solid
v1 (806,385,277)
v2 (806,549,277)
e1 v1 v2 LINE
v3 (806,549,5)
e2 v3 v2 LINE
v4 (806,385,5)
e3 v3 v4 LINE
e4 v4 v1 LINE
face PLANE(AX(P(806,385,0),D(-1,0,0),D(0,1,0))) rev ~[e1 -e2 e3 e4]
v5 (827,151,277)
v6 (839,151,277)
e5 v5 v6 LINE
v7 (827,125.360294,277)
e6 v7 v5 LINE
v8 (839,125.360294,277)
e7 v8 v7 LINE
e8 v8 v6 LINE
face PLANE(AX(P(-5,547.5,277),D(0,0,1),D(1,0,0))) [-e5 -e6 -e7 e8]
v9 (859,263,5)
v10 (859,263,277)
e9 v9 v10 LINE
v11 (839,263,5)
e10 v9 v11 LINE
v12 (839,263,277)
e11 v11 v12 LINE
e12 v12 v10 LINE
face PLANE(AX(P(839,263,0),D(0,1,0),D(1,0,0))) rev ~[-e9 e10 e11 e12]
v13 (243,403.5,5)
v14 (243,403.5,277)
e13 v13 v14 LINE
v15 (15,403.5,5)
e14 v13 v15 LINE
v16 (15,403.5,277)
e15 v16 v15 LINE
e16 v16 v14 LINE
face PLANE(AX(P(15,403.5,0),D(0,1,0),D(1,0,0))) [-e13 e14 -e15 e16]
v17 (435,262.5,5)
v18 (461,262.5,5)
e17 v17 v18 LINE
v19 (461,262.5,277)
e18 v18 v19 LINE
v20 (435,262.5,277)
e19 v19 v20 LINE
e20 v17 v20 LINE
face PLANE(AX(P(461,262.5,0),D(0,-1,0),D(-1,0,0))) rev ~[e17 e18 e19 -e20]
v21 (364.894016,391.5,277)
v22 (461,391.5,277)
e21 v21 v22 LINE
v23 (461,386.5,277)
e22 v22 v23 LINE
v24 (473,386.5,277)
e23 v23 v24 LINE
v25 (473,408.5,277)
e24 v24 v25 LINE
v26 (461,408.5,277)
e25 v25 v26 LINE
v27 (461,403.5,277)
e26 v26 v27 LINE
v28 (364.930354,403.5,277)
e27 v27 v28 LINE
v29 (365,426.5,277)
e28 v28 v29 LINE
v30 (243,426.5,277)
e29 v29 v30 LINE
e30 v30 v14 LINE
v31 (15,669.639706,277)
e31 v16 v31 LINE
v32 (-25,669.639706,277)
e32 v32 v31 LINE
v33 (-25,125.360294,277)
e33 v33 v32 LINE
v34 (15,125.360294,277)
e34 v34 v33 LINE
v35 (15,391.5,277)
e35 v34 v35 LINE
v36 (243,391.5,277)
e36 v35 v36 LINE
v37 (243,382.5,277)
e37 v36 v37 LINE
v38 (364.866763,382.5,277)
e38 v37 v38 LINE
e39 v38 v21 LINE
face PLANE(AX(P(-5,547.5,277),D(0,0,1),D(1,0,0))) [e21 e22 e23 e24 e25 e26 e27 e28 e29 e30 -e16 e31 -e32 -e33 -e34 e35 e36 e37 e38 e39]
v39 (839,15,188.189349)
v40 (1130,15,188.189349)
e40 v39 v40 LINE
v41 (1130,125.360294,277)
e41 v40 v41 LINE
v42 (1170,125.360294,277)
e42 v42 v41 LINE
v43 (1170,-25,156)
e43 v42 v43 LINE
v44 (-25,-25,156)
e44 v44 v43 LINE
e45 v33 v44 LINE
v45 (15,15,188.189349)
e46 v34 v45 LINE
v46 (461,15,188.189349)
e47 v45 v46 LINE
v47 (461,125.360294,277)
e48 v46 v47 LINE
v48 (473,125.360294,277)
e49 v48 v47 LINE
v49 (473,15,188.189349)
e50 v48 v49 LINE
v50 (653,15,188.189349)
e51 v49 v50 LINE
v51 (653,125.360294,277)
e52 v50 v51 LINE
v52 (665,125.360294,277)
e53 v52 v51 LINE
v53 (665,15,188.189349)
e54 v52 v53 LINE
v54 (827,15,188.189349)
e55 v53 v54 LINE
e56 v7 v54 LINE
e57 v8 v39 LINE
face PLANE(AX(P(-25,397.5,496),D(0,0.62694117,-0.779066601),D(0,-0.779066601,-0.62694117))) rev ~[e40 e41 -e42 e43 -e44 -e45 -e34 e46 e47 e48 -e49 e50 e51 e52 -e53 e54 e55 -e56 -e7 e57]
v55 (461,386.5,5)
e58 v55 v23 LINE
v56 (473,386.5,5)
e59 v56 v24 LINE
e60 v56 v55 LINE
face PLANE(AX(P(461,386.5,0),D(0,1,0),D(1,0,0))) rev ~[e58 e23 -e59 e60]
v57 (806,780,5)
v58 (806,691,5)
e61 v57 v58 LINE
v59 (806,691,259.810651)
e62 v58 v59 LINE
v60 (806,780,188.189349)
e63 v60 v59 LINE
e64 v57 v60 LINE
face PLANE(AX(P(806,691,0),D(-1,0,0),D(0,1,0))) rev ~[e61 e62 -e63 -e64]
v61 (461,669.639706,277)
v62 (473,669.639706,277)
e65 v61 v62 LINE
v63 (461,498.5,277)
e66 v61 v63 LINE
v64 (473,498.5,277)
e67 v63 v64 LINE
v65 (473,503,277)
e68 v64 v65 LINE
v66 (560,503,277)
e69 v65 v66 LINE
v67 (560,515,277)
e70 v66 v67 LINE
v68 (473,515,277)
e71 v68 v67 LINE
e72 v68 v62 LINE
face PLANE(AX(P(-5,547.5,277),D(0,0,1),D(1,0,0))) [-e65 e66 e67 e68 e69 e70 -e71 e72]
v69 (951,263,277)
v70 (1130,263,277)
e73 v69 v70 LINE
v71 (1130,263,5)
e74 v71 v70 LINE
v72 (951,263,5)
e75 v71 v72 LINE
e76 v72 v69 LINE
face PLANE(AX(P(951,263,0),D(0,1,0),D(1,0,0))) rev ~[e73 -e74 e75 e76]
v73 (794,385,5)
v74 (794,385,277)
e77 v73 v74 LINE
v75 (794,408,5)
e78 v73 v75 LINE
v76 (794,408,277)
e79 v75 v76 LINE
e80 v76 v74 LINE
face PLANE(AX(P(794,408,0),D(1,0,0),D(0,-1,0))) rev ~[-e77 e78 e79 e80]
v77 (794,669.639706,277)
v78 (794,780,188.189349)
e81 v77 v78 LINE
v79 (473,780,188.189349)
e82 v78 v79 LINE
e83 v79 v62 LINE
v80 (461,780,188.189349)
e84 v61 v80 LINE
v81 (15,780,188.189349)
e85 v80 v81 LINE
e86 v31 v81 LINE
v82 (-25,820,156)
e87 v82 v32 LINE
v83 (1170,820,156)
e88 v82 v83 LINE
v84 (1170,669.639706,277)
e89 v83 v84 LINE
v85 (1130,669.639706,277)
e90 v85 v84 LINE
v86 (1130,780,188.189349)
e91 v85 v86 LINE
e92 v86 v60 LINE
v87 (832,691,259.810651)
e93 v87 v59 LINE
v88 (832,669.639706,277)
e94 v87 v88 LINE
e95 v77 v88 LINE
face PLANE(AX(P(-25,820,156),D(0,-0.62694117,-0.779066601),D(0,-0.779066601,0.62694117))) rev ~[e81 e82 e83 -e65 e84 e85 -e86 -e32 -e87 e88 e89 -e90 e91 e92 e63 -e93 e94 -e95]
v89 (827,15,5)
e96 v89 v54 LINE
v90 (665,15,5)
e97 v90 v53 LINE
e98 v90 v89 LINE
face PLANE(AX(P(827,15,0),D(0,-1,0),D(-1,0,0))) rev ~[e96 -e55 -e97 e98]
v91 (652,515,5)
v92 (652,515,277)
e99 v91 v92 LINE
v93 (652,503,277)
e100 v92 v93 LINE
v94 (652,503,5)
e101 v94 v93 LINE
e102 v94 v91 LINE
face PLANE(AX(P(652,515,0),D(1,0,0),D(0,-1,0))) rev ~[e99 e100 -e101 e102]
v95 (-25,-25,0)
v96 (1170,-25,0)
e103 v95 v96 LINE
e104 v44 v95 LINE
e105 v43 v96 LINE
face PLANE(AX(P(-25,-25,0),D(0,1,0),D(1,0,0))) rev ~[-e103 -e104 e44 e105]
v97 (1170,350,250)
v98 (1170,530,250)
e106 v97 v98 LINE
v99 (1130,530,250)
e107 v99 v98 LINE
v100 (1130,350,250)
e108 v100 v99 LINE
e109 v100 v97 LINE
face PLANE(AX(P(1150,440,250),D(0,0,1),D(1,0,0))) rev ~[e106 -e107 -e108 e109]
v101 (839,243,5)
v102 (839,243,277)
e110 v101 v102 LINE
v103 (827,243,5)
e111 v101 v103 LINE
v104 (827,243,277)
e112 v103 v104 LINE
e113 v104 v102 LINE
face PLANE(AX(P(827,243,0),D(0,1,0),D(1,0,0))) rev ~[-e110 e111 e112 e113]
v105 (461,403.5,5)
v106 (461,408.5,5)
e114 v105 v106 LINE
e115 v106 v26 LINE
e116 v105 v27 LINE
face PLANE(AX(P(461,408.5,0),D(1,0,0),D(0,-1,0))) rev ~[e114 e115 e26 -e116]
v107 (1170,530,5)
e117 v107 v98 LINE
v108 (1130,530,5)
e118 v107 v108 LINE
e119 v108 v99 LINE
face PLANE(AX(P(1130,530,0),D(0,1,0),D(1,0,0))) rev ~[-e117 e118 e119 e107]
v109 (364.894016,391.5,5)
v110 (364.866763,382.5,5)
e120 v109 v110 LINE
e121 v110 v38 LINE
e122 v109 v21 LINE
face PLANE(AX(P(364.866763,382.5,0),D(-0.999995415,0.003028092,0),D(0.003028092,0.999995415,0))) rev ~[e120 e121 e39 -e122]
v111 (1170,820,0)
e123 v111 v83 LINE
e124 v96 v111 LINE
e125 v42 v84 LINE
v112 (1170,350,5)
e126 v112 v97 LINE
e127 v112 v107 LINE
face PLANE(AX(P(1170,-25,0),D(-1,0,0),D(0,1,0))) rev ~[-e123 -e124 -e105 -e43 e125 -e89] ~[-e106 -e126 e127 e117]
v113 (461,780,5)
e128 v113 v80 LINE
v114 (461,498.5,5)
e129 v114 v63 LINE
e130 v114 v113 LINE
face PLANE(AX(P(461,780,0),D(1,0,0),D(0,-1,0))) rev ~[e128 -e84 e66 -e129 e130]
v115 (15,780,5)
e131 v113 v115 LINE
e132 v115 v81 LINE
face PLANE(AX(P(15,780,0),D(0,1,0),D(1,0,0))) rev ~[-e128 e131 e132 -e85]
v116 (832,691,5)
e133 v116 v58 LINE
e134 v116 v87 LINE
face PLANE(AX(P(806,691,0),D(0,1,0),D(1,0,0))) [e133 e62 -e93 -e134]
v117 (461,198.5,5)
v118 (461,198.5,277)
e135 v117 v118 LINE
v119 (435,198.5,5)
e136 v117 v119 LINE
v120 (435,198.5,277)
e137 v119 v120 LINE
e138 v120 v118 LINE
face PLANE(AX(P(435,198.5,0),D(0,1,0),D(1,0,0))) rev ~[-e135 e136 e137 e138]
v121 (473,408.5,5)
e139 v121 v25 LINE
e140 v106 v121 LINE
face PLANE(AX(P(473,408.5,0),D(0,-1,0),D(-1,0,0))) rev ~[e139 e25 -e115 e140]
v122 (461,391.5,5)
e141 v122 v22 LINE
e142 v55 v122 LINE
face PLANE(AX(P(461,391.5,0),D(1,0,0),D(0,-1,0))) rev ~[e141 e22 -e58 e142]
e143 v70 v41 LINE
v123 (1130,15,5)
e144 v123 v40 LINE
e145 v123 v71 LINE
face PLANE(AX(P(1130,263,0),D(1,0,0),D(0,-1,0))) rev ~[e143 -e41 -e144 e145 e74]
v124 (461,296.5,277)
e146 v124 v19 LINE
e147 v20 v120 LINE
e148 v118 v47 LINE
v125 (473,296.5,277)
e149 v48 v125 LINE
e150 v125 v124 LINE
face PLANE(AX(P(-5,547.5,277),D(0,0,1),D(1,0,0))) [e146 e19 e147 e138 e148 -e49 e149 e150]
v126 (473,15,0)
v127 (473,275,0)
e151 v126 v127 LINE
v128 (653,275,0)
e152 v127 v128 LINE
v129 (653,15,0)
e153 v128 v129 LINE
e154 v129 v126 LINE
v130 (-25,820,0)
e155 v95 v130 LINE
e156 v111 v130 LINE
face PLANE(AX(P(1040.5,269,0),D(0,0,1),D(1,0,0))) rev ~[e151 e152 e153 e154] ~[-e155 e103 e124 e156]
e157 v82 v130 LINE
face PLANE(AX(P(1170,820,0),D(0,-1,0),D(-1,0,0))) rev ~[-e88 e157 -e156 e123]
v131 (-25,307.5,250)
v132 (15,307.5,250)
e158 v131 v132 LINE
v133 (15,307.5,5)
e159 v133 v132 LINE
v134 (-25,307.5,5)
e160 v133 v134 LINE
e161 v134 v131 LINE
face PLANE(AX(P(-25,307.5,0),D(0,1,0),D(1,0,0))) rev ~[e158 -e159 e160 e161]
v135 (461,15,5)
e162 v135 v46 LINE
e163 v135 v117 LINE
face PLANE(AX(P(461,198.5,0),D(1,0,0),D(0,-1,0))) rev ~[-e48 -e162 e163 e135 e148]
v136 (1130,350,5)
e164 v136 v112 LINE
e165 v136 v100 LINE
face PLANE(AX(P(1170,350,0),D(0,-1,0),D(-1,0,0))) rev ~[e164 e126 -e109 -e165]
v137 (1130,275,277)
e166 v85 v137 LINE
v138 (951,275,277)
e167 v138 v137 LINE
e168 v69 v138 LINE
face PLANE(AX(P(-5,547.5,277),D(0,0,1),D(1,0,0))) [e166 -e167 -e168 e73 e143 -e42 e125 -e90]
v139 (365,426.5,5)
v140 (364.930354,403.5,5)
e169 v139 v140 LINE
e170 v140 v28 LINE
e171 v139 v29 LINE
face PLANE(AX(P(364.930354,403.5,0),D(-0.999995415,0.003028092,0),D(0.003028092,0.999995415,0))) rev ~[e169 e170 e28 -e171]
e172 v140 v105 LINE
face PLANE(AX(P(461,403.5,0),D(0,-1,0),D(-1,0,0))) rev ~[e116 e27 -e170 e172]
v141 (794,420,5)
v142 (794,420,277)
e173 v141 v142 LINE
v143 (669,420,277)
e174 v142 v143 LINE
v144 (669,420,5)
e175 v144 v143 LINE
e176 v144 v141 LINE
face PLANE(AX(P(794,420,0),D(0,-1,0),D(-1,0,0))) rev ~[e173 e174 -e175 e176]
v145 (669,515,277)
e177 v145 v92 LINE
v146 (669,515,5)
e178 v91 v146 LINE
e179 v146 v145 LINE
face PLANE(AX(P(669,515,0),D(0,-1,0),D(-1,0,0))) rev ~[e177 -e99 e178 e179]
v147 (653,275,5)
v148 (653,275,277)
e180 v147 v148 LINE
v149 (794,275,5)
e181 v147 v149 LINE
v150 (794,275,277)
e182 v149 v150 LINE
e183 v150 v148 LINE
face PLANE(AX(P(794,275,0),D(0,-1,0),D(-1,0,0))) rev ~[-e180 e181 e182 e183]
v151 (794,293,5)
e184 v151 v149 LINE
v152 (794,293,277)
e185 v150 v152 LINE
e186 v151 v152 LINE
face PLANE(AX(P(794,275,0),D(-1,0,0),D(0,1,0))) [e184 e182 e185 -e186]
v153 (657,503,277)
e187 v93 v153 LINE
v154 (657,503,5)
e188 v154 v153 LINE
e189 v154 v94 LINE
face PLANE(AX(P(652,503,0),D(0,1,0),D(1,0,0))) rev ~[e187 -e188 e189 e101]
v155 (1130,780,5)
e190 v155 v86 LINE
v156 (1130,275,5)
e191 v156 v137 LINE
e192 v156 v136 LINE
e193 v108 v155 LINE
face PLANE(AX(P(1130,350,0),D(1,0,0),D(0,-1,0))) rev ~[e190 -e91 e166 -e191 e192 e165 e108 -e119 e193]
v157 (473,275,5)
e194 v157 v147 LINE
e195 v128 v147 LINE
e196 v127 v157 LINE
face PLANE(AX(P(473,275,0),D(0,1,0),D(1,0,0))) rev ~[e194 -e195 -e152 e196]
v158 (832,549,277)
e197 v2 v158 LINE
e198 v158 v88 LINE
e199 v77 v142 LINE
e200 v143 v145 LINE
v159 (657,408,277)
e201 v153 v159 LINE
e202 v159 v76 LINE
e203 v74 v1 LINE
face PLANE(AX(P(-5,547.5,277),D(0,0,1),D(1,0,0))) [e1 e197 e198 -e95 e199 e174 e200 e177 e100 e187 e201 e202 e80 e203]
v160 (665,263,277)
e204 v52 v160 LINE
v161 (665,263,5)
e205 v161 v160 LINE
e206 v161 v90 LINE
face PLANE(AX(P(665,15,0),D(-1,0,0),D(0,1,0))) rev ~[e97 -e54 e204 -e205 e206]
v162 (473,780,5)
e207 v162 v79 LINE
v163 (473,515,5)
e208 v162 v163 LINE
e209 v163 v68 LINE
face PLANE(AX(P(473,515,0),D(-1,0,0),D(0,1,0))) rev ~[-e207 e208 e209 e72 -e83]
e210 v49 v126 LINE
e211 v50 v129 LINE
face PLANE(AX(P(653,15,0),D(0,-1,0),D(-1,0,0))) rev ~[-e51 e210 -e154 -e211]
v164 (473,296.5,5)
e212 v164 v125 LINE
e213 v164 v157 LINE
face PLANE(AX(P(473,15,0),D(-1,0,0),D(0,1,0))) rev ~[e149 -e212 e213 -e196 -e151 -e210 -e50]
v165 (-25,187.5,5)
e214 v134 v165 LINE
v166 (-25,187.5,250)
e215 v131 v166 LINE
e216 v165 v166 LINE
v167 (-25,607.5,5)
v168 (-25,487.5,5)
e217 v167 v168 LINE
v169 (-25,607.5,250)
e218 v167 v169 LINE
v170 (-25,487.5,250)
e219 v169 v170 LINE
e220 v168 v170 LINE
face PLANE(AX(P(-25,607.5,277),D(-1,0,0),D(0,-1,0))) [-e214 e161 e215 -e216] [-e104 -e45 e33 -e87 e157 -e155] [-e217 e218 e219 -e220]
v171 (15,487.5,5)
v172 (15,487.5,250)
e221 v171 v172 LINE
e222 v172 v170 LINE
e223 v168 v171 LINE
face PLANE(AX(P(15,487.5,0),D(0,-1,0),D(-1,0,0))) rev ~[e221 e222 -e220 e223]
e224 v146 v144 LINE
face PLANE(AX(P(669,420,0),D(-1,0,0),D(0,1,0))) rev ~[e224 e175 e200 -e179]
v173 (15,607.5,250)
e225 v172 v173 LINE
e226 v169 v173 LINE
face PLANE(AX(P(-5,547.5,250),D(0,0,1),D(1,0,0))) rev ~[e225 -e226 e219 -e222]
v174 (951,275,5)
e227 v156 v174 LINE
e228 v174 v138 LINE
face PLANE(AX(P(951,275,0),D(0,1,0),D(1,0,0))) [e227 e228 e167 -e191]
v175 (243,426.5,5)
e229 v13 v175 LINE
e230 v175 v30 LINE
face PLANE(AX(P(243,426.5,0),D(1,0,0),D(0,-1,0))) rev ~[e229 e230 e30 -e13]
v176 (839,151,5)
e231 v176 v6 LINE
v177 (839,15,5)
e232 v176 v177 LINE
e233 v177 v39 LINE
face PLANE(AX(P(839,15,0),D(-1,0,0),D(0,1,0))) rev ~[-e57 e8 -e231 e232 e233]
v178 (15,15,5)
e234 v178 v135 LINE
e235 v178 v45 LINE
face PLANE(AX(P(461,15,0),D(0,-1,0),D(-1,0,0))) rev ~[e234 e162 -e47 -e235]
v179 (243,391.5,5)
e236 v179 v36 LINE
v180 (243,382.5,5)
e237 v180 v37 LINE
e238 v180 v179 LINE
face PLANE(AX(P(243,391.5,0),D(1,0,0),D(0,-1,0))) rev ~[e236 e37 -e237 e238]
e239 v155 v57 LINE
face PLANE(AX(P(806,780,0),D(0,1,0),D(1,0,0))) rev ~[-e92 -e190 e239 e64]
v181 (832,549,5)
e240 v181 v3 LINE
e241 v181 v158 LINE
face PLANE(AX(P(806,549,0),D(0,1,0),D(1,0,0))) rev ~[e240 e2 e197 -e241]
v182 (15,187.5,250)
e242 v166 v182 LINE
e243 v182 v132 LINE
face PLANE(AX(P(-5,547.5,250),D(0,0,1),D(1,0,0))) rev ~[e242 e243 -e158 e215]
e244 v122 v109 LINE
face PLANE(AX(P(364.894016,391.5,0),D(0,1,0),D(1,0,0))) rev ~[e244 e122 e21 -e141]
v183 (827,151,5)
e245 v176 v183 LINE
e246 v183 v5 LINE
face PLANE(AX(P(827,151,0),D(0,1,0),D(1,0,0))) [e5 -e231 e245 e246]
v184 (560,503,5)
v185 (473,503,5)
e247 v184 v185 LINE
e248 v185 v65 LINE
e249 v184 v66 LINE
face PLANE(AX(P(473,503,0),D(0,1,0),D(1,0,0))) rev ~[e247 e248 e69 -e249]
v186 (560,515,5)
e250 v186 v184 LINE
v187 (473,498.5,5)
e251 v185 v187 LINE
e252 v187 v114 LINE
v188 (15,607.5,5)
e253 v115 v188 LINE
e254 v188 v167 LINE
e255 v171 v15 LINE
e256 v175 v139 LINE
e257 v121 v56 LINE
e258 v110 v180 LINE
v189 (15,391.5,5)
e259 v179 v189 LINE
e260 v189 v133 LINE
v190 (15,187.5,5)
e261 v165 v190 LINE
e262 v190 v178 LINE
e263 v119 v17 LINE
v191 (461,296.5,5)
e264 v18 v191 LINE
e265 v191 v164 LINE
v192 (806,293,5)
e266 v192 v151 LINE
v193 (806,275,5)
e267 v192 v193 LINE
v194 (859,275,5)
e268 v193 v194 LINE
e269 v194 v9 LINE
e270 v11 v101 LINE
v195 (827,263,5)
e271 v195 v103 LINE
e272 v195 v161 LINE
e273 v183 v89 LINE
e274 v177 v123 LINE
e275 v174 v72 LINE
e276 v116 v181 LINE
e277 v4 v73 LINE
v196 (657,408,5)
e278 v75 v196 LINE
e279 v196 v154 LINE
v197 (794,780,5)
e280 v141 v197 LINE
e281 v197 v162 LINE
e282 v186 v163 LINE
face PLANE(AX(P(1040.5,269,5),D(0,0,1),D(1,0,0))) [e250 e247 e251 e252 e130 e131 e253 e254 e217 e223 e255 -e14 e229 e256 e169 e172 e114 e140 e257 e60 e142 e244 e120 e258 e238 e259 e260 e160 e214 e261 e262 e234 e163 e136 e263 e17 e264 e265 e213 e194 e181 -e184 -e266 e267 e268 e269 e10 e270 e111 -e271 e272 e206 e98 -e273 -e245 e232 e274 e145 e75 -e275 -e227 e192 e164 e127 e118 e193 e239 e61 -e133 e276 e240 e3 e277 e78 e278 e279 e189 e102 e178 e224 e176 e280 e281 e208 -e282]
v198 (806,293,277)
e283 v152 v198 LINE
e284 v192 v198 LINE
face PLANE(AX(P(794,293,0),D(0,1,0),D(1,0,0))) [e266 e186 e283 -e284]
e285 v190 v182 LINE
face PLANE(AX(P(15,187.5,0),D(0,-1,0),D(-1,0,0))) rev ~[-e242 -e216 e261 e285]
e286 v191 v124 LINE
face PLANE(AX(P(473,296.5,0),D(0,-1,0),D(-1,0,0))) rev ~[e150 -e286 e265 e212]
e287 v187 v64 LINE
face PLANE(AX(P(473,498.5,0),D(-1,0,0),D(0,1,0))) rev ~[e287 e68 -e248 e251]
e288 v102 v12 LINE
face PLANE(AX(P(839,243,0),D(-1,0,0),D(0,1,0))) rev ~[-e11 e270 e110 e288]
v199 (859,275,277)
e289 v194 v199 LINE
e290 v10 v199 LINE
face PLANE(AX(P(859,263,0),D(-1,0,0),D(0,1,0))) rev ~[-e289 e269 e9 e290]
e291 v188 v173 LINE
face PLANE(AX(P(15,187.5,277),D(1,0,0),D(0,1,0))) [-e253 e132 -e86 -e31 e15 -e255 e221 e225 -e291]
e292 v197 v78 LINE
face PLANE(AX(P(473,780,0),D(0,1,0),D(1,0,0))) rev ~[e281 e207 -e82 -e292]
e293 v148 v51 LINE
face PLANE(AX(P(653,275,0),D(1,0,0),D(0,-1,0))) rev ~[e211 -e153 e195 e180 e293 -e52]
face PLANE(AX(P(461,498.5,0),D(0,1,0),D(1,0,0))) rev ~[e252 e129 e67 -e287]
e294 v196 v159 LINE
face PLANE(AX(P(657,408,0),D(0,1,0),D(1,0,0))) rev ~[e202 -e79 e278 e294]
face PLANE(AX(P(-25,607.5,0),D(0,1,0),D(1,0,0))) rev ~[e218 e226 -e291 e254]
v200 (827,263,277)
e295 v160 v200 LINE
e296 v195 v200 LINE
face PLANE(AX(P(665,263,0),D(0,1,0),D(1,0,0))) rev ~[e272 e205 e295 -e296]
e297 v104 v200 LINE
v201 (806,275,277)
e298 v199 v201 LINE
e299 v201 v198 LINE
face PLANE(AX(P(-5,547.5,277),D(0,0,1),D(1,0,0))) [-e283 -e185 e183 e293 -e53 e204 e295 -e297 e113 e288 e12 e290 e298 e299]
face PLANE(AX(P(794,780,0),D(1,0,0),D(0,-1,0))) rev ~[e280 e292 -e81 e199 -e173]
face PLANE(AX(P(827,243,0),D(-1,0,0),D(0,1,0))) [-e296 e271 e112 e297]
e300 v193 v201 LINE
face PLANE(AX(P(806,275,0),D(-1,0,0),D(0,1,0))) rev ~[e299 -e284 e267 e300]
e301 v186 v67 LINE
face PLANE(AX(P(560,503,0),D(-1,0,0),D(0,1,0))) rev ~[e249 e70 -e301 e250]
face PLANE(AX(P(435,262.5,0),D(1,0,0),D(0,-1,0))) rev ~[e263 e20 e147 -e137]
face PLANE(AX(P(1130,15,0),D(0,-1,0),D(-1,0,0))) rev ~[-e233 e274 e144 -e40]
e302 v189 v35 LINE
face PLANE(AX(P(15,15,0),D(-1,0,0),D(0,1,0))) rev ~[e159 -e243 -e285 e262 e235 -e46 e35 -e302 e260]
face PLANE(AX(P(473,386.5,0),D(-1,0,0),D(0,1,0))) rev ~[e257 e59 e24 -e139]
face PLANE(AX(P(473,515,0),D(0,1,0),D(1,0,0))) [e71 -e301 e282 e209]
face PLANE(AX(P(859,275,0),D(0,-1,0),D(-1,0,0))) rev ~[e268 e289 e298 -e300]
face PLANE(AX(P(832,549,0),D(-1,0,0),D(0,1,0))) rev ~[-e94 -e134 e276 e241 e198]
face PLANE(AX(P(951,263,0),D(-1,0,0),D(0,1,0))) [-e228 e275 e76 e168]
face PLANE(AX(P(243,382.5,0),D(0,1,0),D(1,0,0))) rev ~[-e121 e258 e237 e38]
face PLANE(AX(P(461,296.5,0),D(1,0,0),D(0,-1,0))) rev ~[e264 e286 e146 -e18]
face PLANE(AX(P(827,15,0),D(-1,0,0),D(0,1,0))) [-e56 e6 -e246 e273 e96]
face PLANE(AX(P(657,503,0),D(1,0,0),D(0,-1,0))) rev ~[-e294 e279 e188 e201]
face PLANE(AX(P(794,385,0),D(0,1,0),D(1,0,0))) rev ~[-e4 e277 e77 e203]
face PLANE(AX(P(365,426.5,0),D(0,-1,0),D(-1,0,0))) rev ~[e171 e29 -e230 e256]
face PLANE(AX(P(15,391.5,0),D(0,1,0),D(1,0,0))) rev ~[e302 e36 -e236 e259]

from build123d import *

# Parameters (mm, degrees)
F0_W     = 179
F0_H     = 12
F0_W_2   = 138
F0_H_2   = 40
F0_W_3   = 40
F0_H_3   = 120
F0_W_4   = 92
F0_W_5   = 12
F0_H_4   = 90
F0_H_5   = 180
F0_W_6   = 87
F0_H_6   = 92
F0_W_7   = 26
F0_H_7   = 142
F0_H_8   = 136
F0_W_8   = 228
F0_H_9   = 18
F0_H_10  = 20
F0_W_9   = 20
F1_DEPTH = 5
F2_DEPTH = 277
F3_W     = 40
F3_H     = 120
F3_H_2   = 180
F4_DEPTH = 27
F6_DEPTH = 1195.001


with BuildPart() as f1:
    # F0 (on Top) → F1 (new body)
    with BuildSketch(Plane.XY):
        with Locations((1040.5, 269)):
            Rectangle(F0_W, F0_H)
        Polygon((794, 408), (794, 420), (669, 420), (669, 515), (652, 515), (652, 503), (657, 503), (657, 408), align=None)
        with Locations((392, -5)):
            Rectangle(F0_W_2, F0_H_2)
        Polygon((1130, 350), (1130, 530), (1130, 780), (806, 780), (806, 691), (832, 691), (832, 549), (806, 549), (806, 385), (806, 293), (806, 275), (839, 275), (859, 275), (951, 275), (1130, 275), align=None)
        with Locations((-5, 547.5)):
            Rectangle(F0_W_3, F0_H_3)
        with Locations((-5, 247.5)):
            Rectangle(F0_W_3, F0_H_3)
        Polygon((15, 487.5), (-25, 487.5), (-25, 307.5), (15, 307.5), (15, 382.1609020233), (15, 391.5), (15, 403.5), align=None)
        Polygon((15, 187.5), (-25, 187.5), (-25, -25), (323, -25), (323, 15), (15, 15), align=None)
        Polygon((1130, 15), (1130, 263), (951, 263), (859, 263), (839, 263), (839, 243), (839, 151), (839, 15), align=None)
        with Locations((905, 269)):
            Rectangle(F0_W_4, F0_H)
        Polygon((364.8940163038, 391.5), (243, 391.5), (243, 382.5), (364.8667633533, 382.5), align=None)
        Polygon((473, 780), (461, 780), (461, 498.5), (473, 498.5), (473, 503), (473, 515), align=None)
        with Locations((467, 453.5)):
            Rectangle(F0_W_5, F0_H_4)
        Polygon((243, 426.5), (243, 403.5), (364.9303535711, 403.5), (365, 426.5), align=None)
        Polygon((473, 503), (473, 498.5), (473, 408.5), (473, 386.5), (473, 296.5), (473, 275), (653, 275), (670, 275), (794, 275), (794, 293), (794, 385), (794, 408), (657, 408), (657, 503), (652, 503), (560, 503), align=None)
        with Locations((1150, 440)):
            Rectangle(F0_W_3, F0_H_5)
        Polygon((665, 263), (665, 15), (827, 15), (827, 151), (827, 243), (827, 263), (806, 263), (794, 263), align=None)
        with Locations((516.5, 509)):
            Rectangle(F0_W_6, F0_H)
        with Locations((467, 341.5)):
            Rectangle(F0_W_5, F0_H_4)
        Polygon((15, 382.1609020233), (15, 307.5), (15, 187.5), (15, 15), (323, 15), (461, 15), (461, 198.5), (435, 198.5), (435, 262.5), (461, 262.5), (461, 296.5), (461, 386.5), (461, 391.5), (365, 391.5), (364.8940163038, 391.5), (364.8667633533, 382.5), (243, 382.5), (243, 391.5), (15, 391.5), align=None)
        Polygon((1170, 530), (1170, 820), (-25, 820), (-25, 607.5), (15, 607.5), (15, 780), (461, 780), (473, 780), (794, 780), (806, 780), (1130, 780), (1130, 530), align=None)
        with Locations((833, 197)):
            Rectangle(F0_W_5, F0_H_6)
        Polygon((461, 198.5), (461, 15), (473, 15), (473, 275), (473, 296.5), (461, 296.5), (461, 262.5), (435, 262.5), (435, 198.5), align=None)
        Polygon((794, 420), (794, 780), (473, 780), (473, 515), (560, 515), (652, 515), (669, 515), (669, 420), align=None)
        with Locations((819, 620)):
            Rectangle(F0_W_7, F0_H_7)
        with Locations((606, 509)):
            Rectangle(F0_W_4, F0_H)
        with Locations((833, 83)):
            Rectangle(F0_W_5, F0_H_8)
        Polygon((653, 275), (653, 15), (665, 15), (665, 263), (794, 263), (794, 275), (670, 275), align=None)
        Polygon((1170, -25), (1170, 350), (1130, 350), (1130, 275), (1130, 263), (1130, 15), (839, 15), (827, 15), (665, 15), (653, 15), (473, 15), (461, 15), (461, -25), align=None)
        with Locations((800, 339)):
            Rectangle(F0_W_5, F0_H_6)
        with Locations((129, 397.5)):
            Rectangle(F0_W_8, F0_H)
        with Locations((800, 284)):
            Rectangle(F0_W_5, F0_H_9)
        Polygon((806, 691), (806, 780), (794, 780), (794, 420), (794, 408), (794, 385), (806, 385), (806, 549), align=None)
        with Locations((833, 253)):
            Rectangle(F0_W_5, F0_H_10)
        Polygon((839, 263), (839, 275), (806, 275), (806, 263), (827, 263), align=None)
        with Locations((849, 269)):
            Rectangle(F0_W_9, F0_H)
        Polygon((365, 403.5), (364.9303535711, 403.5), (364.8940163038, 391.5), (365, 391.5), (461, 391.5), (461, 386.5), (473, 386.5), (473, 408.5), (461, 408.5), (461, 403.5), align=None)
        Polygon((364.9303535711, 403.5), (243, 403.5), (243, 391.5), (364.8940163038, 391.5), align=None)
        with Locations((800, 269)):
            Rectangle(F0_W_5, F0_H)
        Polygon((15, 780), (15, 607.5), (15, 487.5), (15, 403.5), (243, 403.5), (243, 426.5), (365, 426.5), (364.9303535711, 403.5), (365, 403.5), (461, 403.5), (461, 408.5), (461, 498.5), (461, 780), align=None)
    extrude(amount=F1_DEPTH)

    # F0 (on Top) → F2 (join)
    with BuildSketch(Plane.XY):
        Polygon((15, 187.5), (-25, 187.5), (-25, -25), (323, -25), (323, 15), (15, 15), align=None)
        with Locations((392, -5)):
            Rectangle(F0_W_2, F0_H_2)
        Polygon((1170, -25), (1170, 350), (1130, 350), (1130, 275), (1130, 263), (1130, 15), (839, 15), (827, 15), (665, 15), (653, 15), (473, 15), (461, 15), (461, -25), align=None)
        with Locations((833, 83)):
            Rectangle(F0_W_5, F0_H_8)
        Polygon((653, 275), (653, 15), (665, 15), (665, 263), (794, 263), (794, 275), (670, 275), align=None)
        Polygon((461, 198.5), (461, 15), (473, 15), (473, 275), (473, 296.5), (461, 296.5), (461, 262.5), (435, 262.5), (435, 198.5), align=None)
        Polygon((15, 487.5), (-25, 487.5), (-25, 307.5), (15, 307.5), (15, 382.1609020233), (15, 391.5), (15, 403.5), align=None)
        with Locations((129, 397.5)):
            Rectangle(F0_W_8, F0_H)
        Polygon((243, 426.5), (243, 403.5), (364.9303535711, 403.5), (365, 426.5), align=None)
        Polygon((364.9303535711, 403.5), (243, 403.5), (243, 391.5), (364.8940163038, 391.5), align=None)
        Polygon((364.8940163038, 391.5), (243, 391.5), (243, 382.5), (364.8667633533, 382.5), align=None)
        Polygon((365, 403.5), (364.9303535711, 403.5), (364.8940163038, 391.5), (365, 391.5), (461, 391.5), (461, 386.5), (473, 386.5), (473, 408.5), (461, 408.5), (461, 403.5), align=None)
        Polygon((473, 780), (461, 780), (461, 498.5), (473, 498.5), (473, 503), (473, 515), align=None)
        with Locations((516.5, 509)):
            Rectangle(F0_W_6, F0_H)
        Polygon((794, 408), (794, 420), (669, 420), (669, 515), (652, 515), (652, 503), (657, 503), (657, 408), align=None)
        Polygon((806, 691), (806, 780), (794, 780), (794, 420), (794, 408), (794, 385), (806, 385), (806, 549), align=None)
        with Locations((833, 253)):
            Rectangle(F0_W_5, F0_H_10)
        with Locations((849, 269)):
            Rectangle(F0_W_9, F0_H)
        Polygon((839, 263), (839, 275), (806, 275), (806, 263), (827, 263), align=None)
        with Locations((800, 269)):
            Rectangle(F0_W_5, F0_H)
        with Locations((800, 284)):
            Rectangle(F0_W_5, F0_H_9)
        with Locations((1040.5, 269)):
            Rectangle(F0_W, F0_H)
        Polygon((1170, 530), (1170, 820), (-25, 820), (-25, 607.5), (15, 607.5), (15, 780), (461, 780), (473, 780), (794, 780), (806, 780), (1130, 780), (1130, 530), align=None)
        with Locations((819, 620)):
            Rectangle(F0_W_7, F0_H_7)
    extrude(amount=F2_DEPTH)

    # F3 (on face) → F4 (join)
    with BuildSketch(Plane.XY.offset(277)):
        with Locations((-5, 547.5)):
            Rectangle(F3_W, F3_H)
        with Locations((-5, 397.5)):
            Rectangle(F3_W, F3_H_2)
        with Locations((-5, 247.5)):
            Rectangle(F3_W, F3_H)
        with Locations((1150, 440)):
            Rectangle(F3_W, F3_H_2)
    extrude(amount=-F4_DEPTH)

    # F5 (on face) → F6 (cut, through all)
    with BuildSketch(Plane(origin=(-25, 0, 0), x_dir=(0, -1, 0), z_dir=(-1, 0, 0))):
        Polygon((-669.6397058824, 277), (-397.5, 496), (-820, 496), (-820, 277), align=None)
        Polygon((-820, 156), (-669.6397058824, 277), (-820, 277), align=None)
        Polygon((25, 496), (-397.5, 496), (-125.3602941176, 277), (25, 277), align=None)
        Polygon((25, 277), (-125.3602941176, 277), (25, 156), align=None)
    extrude(amount=-F6_DEPTH, mode=Mode.SUBTRACT)


solid = f1.part
